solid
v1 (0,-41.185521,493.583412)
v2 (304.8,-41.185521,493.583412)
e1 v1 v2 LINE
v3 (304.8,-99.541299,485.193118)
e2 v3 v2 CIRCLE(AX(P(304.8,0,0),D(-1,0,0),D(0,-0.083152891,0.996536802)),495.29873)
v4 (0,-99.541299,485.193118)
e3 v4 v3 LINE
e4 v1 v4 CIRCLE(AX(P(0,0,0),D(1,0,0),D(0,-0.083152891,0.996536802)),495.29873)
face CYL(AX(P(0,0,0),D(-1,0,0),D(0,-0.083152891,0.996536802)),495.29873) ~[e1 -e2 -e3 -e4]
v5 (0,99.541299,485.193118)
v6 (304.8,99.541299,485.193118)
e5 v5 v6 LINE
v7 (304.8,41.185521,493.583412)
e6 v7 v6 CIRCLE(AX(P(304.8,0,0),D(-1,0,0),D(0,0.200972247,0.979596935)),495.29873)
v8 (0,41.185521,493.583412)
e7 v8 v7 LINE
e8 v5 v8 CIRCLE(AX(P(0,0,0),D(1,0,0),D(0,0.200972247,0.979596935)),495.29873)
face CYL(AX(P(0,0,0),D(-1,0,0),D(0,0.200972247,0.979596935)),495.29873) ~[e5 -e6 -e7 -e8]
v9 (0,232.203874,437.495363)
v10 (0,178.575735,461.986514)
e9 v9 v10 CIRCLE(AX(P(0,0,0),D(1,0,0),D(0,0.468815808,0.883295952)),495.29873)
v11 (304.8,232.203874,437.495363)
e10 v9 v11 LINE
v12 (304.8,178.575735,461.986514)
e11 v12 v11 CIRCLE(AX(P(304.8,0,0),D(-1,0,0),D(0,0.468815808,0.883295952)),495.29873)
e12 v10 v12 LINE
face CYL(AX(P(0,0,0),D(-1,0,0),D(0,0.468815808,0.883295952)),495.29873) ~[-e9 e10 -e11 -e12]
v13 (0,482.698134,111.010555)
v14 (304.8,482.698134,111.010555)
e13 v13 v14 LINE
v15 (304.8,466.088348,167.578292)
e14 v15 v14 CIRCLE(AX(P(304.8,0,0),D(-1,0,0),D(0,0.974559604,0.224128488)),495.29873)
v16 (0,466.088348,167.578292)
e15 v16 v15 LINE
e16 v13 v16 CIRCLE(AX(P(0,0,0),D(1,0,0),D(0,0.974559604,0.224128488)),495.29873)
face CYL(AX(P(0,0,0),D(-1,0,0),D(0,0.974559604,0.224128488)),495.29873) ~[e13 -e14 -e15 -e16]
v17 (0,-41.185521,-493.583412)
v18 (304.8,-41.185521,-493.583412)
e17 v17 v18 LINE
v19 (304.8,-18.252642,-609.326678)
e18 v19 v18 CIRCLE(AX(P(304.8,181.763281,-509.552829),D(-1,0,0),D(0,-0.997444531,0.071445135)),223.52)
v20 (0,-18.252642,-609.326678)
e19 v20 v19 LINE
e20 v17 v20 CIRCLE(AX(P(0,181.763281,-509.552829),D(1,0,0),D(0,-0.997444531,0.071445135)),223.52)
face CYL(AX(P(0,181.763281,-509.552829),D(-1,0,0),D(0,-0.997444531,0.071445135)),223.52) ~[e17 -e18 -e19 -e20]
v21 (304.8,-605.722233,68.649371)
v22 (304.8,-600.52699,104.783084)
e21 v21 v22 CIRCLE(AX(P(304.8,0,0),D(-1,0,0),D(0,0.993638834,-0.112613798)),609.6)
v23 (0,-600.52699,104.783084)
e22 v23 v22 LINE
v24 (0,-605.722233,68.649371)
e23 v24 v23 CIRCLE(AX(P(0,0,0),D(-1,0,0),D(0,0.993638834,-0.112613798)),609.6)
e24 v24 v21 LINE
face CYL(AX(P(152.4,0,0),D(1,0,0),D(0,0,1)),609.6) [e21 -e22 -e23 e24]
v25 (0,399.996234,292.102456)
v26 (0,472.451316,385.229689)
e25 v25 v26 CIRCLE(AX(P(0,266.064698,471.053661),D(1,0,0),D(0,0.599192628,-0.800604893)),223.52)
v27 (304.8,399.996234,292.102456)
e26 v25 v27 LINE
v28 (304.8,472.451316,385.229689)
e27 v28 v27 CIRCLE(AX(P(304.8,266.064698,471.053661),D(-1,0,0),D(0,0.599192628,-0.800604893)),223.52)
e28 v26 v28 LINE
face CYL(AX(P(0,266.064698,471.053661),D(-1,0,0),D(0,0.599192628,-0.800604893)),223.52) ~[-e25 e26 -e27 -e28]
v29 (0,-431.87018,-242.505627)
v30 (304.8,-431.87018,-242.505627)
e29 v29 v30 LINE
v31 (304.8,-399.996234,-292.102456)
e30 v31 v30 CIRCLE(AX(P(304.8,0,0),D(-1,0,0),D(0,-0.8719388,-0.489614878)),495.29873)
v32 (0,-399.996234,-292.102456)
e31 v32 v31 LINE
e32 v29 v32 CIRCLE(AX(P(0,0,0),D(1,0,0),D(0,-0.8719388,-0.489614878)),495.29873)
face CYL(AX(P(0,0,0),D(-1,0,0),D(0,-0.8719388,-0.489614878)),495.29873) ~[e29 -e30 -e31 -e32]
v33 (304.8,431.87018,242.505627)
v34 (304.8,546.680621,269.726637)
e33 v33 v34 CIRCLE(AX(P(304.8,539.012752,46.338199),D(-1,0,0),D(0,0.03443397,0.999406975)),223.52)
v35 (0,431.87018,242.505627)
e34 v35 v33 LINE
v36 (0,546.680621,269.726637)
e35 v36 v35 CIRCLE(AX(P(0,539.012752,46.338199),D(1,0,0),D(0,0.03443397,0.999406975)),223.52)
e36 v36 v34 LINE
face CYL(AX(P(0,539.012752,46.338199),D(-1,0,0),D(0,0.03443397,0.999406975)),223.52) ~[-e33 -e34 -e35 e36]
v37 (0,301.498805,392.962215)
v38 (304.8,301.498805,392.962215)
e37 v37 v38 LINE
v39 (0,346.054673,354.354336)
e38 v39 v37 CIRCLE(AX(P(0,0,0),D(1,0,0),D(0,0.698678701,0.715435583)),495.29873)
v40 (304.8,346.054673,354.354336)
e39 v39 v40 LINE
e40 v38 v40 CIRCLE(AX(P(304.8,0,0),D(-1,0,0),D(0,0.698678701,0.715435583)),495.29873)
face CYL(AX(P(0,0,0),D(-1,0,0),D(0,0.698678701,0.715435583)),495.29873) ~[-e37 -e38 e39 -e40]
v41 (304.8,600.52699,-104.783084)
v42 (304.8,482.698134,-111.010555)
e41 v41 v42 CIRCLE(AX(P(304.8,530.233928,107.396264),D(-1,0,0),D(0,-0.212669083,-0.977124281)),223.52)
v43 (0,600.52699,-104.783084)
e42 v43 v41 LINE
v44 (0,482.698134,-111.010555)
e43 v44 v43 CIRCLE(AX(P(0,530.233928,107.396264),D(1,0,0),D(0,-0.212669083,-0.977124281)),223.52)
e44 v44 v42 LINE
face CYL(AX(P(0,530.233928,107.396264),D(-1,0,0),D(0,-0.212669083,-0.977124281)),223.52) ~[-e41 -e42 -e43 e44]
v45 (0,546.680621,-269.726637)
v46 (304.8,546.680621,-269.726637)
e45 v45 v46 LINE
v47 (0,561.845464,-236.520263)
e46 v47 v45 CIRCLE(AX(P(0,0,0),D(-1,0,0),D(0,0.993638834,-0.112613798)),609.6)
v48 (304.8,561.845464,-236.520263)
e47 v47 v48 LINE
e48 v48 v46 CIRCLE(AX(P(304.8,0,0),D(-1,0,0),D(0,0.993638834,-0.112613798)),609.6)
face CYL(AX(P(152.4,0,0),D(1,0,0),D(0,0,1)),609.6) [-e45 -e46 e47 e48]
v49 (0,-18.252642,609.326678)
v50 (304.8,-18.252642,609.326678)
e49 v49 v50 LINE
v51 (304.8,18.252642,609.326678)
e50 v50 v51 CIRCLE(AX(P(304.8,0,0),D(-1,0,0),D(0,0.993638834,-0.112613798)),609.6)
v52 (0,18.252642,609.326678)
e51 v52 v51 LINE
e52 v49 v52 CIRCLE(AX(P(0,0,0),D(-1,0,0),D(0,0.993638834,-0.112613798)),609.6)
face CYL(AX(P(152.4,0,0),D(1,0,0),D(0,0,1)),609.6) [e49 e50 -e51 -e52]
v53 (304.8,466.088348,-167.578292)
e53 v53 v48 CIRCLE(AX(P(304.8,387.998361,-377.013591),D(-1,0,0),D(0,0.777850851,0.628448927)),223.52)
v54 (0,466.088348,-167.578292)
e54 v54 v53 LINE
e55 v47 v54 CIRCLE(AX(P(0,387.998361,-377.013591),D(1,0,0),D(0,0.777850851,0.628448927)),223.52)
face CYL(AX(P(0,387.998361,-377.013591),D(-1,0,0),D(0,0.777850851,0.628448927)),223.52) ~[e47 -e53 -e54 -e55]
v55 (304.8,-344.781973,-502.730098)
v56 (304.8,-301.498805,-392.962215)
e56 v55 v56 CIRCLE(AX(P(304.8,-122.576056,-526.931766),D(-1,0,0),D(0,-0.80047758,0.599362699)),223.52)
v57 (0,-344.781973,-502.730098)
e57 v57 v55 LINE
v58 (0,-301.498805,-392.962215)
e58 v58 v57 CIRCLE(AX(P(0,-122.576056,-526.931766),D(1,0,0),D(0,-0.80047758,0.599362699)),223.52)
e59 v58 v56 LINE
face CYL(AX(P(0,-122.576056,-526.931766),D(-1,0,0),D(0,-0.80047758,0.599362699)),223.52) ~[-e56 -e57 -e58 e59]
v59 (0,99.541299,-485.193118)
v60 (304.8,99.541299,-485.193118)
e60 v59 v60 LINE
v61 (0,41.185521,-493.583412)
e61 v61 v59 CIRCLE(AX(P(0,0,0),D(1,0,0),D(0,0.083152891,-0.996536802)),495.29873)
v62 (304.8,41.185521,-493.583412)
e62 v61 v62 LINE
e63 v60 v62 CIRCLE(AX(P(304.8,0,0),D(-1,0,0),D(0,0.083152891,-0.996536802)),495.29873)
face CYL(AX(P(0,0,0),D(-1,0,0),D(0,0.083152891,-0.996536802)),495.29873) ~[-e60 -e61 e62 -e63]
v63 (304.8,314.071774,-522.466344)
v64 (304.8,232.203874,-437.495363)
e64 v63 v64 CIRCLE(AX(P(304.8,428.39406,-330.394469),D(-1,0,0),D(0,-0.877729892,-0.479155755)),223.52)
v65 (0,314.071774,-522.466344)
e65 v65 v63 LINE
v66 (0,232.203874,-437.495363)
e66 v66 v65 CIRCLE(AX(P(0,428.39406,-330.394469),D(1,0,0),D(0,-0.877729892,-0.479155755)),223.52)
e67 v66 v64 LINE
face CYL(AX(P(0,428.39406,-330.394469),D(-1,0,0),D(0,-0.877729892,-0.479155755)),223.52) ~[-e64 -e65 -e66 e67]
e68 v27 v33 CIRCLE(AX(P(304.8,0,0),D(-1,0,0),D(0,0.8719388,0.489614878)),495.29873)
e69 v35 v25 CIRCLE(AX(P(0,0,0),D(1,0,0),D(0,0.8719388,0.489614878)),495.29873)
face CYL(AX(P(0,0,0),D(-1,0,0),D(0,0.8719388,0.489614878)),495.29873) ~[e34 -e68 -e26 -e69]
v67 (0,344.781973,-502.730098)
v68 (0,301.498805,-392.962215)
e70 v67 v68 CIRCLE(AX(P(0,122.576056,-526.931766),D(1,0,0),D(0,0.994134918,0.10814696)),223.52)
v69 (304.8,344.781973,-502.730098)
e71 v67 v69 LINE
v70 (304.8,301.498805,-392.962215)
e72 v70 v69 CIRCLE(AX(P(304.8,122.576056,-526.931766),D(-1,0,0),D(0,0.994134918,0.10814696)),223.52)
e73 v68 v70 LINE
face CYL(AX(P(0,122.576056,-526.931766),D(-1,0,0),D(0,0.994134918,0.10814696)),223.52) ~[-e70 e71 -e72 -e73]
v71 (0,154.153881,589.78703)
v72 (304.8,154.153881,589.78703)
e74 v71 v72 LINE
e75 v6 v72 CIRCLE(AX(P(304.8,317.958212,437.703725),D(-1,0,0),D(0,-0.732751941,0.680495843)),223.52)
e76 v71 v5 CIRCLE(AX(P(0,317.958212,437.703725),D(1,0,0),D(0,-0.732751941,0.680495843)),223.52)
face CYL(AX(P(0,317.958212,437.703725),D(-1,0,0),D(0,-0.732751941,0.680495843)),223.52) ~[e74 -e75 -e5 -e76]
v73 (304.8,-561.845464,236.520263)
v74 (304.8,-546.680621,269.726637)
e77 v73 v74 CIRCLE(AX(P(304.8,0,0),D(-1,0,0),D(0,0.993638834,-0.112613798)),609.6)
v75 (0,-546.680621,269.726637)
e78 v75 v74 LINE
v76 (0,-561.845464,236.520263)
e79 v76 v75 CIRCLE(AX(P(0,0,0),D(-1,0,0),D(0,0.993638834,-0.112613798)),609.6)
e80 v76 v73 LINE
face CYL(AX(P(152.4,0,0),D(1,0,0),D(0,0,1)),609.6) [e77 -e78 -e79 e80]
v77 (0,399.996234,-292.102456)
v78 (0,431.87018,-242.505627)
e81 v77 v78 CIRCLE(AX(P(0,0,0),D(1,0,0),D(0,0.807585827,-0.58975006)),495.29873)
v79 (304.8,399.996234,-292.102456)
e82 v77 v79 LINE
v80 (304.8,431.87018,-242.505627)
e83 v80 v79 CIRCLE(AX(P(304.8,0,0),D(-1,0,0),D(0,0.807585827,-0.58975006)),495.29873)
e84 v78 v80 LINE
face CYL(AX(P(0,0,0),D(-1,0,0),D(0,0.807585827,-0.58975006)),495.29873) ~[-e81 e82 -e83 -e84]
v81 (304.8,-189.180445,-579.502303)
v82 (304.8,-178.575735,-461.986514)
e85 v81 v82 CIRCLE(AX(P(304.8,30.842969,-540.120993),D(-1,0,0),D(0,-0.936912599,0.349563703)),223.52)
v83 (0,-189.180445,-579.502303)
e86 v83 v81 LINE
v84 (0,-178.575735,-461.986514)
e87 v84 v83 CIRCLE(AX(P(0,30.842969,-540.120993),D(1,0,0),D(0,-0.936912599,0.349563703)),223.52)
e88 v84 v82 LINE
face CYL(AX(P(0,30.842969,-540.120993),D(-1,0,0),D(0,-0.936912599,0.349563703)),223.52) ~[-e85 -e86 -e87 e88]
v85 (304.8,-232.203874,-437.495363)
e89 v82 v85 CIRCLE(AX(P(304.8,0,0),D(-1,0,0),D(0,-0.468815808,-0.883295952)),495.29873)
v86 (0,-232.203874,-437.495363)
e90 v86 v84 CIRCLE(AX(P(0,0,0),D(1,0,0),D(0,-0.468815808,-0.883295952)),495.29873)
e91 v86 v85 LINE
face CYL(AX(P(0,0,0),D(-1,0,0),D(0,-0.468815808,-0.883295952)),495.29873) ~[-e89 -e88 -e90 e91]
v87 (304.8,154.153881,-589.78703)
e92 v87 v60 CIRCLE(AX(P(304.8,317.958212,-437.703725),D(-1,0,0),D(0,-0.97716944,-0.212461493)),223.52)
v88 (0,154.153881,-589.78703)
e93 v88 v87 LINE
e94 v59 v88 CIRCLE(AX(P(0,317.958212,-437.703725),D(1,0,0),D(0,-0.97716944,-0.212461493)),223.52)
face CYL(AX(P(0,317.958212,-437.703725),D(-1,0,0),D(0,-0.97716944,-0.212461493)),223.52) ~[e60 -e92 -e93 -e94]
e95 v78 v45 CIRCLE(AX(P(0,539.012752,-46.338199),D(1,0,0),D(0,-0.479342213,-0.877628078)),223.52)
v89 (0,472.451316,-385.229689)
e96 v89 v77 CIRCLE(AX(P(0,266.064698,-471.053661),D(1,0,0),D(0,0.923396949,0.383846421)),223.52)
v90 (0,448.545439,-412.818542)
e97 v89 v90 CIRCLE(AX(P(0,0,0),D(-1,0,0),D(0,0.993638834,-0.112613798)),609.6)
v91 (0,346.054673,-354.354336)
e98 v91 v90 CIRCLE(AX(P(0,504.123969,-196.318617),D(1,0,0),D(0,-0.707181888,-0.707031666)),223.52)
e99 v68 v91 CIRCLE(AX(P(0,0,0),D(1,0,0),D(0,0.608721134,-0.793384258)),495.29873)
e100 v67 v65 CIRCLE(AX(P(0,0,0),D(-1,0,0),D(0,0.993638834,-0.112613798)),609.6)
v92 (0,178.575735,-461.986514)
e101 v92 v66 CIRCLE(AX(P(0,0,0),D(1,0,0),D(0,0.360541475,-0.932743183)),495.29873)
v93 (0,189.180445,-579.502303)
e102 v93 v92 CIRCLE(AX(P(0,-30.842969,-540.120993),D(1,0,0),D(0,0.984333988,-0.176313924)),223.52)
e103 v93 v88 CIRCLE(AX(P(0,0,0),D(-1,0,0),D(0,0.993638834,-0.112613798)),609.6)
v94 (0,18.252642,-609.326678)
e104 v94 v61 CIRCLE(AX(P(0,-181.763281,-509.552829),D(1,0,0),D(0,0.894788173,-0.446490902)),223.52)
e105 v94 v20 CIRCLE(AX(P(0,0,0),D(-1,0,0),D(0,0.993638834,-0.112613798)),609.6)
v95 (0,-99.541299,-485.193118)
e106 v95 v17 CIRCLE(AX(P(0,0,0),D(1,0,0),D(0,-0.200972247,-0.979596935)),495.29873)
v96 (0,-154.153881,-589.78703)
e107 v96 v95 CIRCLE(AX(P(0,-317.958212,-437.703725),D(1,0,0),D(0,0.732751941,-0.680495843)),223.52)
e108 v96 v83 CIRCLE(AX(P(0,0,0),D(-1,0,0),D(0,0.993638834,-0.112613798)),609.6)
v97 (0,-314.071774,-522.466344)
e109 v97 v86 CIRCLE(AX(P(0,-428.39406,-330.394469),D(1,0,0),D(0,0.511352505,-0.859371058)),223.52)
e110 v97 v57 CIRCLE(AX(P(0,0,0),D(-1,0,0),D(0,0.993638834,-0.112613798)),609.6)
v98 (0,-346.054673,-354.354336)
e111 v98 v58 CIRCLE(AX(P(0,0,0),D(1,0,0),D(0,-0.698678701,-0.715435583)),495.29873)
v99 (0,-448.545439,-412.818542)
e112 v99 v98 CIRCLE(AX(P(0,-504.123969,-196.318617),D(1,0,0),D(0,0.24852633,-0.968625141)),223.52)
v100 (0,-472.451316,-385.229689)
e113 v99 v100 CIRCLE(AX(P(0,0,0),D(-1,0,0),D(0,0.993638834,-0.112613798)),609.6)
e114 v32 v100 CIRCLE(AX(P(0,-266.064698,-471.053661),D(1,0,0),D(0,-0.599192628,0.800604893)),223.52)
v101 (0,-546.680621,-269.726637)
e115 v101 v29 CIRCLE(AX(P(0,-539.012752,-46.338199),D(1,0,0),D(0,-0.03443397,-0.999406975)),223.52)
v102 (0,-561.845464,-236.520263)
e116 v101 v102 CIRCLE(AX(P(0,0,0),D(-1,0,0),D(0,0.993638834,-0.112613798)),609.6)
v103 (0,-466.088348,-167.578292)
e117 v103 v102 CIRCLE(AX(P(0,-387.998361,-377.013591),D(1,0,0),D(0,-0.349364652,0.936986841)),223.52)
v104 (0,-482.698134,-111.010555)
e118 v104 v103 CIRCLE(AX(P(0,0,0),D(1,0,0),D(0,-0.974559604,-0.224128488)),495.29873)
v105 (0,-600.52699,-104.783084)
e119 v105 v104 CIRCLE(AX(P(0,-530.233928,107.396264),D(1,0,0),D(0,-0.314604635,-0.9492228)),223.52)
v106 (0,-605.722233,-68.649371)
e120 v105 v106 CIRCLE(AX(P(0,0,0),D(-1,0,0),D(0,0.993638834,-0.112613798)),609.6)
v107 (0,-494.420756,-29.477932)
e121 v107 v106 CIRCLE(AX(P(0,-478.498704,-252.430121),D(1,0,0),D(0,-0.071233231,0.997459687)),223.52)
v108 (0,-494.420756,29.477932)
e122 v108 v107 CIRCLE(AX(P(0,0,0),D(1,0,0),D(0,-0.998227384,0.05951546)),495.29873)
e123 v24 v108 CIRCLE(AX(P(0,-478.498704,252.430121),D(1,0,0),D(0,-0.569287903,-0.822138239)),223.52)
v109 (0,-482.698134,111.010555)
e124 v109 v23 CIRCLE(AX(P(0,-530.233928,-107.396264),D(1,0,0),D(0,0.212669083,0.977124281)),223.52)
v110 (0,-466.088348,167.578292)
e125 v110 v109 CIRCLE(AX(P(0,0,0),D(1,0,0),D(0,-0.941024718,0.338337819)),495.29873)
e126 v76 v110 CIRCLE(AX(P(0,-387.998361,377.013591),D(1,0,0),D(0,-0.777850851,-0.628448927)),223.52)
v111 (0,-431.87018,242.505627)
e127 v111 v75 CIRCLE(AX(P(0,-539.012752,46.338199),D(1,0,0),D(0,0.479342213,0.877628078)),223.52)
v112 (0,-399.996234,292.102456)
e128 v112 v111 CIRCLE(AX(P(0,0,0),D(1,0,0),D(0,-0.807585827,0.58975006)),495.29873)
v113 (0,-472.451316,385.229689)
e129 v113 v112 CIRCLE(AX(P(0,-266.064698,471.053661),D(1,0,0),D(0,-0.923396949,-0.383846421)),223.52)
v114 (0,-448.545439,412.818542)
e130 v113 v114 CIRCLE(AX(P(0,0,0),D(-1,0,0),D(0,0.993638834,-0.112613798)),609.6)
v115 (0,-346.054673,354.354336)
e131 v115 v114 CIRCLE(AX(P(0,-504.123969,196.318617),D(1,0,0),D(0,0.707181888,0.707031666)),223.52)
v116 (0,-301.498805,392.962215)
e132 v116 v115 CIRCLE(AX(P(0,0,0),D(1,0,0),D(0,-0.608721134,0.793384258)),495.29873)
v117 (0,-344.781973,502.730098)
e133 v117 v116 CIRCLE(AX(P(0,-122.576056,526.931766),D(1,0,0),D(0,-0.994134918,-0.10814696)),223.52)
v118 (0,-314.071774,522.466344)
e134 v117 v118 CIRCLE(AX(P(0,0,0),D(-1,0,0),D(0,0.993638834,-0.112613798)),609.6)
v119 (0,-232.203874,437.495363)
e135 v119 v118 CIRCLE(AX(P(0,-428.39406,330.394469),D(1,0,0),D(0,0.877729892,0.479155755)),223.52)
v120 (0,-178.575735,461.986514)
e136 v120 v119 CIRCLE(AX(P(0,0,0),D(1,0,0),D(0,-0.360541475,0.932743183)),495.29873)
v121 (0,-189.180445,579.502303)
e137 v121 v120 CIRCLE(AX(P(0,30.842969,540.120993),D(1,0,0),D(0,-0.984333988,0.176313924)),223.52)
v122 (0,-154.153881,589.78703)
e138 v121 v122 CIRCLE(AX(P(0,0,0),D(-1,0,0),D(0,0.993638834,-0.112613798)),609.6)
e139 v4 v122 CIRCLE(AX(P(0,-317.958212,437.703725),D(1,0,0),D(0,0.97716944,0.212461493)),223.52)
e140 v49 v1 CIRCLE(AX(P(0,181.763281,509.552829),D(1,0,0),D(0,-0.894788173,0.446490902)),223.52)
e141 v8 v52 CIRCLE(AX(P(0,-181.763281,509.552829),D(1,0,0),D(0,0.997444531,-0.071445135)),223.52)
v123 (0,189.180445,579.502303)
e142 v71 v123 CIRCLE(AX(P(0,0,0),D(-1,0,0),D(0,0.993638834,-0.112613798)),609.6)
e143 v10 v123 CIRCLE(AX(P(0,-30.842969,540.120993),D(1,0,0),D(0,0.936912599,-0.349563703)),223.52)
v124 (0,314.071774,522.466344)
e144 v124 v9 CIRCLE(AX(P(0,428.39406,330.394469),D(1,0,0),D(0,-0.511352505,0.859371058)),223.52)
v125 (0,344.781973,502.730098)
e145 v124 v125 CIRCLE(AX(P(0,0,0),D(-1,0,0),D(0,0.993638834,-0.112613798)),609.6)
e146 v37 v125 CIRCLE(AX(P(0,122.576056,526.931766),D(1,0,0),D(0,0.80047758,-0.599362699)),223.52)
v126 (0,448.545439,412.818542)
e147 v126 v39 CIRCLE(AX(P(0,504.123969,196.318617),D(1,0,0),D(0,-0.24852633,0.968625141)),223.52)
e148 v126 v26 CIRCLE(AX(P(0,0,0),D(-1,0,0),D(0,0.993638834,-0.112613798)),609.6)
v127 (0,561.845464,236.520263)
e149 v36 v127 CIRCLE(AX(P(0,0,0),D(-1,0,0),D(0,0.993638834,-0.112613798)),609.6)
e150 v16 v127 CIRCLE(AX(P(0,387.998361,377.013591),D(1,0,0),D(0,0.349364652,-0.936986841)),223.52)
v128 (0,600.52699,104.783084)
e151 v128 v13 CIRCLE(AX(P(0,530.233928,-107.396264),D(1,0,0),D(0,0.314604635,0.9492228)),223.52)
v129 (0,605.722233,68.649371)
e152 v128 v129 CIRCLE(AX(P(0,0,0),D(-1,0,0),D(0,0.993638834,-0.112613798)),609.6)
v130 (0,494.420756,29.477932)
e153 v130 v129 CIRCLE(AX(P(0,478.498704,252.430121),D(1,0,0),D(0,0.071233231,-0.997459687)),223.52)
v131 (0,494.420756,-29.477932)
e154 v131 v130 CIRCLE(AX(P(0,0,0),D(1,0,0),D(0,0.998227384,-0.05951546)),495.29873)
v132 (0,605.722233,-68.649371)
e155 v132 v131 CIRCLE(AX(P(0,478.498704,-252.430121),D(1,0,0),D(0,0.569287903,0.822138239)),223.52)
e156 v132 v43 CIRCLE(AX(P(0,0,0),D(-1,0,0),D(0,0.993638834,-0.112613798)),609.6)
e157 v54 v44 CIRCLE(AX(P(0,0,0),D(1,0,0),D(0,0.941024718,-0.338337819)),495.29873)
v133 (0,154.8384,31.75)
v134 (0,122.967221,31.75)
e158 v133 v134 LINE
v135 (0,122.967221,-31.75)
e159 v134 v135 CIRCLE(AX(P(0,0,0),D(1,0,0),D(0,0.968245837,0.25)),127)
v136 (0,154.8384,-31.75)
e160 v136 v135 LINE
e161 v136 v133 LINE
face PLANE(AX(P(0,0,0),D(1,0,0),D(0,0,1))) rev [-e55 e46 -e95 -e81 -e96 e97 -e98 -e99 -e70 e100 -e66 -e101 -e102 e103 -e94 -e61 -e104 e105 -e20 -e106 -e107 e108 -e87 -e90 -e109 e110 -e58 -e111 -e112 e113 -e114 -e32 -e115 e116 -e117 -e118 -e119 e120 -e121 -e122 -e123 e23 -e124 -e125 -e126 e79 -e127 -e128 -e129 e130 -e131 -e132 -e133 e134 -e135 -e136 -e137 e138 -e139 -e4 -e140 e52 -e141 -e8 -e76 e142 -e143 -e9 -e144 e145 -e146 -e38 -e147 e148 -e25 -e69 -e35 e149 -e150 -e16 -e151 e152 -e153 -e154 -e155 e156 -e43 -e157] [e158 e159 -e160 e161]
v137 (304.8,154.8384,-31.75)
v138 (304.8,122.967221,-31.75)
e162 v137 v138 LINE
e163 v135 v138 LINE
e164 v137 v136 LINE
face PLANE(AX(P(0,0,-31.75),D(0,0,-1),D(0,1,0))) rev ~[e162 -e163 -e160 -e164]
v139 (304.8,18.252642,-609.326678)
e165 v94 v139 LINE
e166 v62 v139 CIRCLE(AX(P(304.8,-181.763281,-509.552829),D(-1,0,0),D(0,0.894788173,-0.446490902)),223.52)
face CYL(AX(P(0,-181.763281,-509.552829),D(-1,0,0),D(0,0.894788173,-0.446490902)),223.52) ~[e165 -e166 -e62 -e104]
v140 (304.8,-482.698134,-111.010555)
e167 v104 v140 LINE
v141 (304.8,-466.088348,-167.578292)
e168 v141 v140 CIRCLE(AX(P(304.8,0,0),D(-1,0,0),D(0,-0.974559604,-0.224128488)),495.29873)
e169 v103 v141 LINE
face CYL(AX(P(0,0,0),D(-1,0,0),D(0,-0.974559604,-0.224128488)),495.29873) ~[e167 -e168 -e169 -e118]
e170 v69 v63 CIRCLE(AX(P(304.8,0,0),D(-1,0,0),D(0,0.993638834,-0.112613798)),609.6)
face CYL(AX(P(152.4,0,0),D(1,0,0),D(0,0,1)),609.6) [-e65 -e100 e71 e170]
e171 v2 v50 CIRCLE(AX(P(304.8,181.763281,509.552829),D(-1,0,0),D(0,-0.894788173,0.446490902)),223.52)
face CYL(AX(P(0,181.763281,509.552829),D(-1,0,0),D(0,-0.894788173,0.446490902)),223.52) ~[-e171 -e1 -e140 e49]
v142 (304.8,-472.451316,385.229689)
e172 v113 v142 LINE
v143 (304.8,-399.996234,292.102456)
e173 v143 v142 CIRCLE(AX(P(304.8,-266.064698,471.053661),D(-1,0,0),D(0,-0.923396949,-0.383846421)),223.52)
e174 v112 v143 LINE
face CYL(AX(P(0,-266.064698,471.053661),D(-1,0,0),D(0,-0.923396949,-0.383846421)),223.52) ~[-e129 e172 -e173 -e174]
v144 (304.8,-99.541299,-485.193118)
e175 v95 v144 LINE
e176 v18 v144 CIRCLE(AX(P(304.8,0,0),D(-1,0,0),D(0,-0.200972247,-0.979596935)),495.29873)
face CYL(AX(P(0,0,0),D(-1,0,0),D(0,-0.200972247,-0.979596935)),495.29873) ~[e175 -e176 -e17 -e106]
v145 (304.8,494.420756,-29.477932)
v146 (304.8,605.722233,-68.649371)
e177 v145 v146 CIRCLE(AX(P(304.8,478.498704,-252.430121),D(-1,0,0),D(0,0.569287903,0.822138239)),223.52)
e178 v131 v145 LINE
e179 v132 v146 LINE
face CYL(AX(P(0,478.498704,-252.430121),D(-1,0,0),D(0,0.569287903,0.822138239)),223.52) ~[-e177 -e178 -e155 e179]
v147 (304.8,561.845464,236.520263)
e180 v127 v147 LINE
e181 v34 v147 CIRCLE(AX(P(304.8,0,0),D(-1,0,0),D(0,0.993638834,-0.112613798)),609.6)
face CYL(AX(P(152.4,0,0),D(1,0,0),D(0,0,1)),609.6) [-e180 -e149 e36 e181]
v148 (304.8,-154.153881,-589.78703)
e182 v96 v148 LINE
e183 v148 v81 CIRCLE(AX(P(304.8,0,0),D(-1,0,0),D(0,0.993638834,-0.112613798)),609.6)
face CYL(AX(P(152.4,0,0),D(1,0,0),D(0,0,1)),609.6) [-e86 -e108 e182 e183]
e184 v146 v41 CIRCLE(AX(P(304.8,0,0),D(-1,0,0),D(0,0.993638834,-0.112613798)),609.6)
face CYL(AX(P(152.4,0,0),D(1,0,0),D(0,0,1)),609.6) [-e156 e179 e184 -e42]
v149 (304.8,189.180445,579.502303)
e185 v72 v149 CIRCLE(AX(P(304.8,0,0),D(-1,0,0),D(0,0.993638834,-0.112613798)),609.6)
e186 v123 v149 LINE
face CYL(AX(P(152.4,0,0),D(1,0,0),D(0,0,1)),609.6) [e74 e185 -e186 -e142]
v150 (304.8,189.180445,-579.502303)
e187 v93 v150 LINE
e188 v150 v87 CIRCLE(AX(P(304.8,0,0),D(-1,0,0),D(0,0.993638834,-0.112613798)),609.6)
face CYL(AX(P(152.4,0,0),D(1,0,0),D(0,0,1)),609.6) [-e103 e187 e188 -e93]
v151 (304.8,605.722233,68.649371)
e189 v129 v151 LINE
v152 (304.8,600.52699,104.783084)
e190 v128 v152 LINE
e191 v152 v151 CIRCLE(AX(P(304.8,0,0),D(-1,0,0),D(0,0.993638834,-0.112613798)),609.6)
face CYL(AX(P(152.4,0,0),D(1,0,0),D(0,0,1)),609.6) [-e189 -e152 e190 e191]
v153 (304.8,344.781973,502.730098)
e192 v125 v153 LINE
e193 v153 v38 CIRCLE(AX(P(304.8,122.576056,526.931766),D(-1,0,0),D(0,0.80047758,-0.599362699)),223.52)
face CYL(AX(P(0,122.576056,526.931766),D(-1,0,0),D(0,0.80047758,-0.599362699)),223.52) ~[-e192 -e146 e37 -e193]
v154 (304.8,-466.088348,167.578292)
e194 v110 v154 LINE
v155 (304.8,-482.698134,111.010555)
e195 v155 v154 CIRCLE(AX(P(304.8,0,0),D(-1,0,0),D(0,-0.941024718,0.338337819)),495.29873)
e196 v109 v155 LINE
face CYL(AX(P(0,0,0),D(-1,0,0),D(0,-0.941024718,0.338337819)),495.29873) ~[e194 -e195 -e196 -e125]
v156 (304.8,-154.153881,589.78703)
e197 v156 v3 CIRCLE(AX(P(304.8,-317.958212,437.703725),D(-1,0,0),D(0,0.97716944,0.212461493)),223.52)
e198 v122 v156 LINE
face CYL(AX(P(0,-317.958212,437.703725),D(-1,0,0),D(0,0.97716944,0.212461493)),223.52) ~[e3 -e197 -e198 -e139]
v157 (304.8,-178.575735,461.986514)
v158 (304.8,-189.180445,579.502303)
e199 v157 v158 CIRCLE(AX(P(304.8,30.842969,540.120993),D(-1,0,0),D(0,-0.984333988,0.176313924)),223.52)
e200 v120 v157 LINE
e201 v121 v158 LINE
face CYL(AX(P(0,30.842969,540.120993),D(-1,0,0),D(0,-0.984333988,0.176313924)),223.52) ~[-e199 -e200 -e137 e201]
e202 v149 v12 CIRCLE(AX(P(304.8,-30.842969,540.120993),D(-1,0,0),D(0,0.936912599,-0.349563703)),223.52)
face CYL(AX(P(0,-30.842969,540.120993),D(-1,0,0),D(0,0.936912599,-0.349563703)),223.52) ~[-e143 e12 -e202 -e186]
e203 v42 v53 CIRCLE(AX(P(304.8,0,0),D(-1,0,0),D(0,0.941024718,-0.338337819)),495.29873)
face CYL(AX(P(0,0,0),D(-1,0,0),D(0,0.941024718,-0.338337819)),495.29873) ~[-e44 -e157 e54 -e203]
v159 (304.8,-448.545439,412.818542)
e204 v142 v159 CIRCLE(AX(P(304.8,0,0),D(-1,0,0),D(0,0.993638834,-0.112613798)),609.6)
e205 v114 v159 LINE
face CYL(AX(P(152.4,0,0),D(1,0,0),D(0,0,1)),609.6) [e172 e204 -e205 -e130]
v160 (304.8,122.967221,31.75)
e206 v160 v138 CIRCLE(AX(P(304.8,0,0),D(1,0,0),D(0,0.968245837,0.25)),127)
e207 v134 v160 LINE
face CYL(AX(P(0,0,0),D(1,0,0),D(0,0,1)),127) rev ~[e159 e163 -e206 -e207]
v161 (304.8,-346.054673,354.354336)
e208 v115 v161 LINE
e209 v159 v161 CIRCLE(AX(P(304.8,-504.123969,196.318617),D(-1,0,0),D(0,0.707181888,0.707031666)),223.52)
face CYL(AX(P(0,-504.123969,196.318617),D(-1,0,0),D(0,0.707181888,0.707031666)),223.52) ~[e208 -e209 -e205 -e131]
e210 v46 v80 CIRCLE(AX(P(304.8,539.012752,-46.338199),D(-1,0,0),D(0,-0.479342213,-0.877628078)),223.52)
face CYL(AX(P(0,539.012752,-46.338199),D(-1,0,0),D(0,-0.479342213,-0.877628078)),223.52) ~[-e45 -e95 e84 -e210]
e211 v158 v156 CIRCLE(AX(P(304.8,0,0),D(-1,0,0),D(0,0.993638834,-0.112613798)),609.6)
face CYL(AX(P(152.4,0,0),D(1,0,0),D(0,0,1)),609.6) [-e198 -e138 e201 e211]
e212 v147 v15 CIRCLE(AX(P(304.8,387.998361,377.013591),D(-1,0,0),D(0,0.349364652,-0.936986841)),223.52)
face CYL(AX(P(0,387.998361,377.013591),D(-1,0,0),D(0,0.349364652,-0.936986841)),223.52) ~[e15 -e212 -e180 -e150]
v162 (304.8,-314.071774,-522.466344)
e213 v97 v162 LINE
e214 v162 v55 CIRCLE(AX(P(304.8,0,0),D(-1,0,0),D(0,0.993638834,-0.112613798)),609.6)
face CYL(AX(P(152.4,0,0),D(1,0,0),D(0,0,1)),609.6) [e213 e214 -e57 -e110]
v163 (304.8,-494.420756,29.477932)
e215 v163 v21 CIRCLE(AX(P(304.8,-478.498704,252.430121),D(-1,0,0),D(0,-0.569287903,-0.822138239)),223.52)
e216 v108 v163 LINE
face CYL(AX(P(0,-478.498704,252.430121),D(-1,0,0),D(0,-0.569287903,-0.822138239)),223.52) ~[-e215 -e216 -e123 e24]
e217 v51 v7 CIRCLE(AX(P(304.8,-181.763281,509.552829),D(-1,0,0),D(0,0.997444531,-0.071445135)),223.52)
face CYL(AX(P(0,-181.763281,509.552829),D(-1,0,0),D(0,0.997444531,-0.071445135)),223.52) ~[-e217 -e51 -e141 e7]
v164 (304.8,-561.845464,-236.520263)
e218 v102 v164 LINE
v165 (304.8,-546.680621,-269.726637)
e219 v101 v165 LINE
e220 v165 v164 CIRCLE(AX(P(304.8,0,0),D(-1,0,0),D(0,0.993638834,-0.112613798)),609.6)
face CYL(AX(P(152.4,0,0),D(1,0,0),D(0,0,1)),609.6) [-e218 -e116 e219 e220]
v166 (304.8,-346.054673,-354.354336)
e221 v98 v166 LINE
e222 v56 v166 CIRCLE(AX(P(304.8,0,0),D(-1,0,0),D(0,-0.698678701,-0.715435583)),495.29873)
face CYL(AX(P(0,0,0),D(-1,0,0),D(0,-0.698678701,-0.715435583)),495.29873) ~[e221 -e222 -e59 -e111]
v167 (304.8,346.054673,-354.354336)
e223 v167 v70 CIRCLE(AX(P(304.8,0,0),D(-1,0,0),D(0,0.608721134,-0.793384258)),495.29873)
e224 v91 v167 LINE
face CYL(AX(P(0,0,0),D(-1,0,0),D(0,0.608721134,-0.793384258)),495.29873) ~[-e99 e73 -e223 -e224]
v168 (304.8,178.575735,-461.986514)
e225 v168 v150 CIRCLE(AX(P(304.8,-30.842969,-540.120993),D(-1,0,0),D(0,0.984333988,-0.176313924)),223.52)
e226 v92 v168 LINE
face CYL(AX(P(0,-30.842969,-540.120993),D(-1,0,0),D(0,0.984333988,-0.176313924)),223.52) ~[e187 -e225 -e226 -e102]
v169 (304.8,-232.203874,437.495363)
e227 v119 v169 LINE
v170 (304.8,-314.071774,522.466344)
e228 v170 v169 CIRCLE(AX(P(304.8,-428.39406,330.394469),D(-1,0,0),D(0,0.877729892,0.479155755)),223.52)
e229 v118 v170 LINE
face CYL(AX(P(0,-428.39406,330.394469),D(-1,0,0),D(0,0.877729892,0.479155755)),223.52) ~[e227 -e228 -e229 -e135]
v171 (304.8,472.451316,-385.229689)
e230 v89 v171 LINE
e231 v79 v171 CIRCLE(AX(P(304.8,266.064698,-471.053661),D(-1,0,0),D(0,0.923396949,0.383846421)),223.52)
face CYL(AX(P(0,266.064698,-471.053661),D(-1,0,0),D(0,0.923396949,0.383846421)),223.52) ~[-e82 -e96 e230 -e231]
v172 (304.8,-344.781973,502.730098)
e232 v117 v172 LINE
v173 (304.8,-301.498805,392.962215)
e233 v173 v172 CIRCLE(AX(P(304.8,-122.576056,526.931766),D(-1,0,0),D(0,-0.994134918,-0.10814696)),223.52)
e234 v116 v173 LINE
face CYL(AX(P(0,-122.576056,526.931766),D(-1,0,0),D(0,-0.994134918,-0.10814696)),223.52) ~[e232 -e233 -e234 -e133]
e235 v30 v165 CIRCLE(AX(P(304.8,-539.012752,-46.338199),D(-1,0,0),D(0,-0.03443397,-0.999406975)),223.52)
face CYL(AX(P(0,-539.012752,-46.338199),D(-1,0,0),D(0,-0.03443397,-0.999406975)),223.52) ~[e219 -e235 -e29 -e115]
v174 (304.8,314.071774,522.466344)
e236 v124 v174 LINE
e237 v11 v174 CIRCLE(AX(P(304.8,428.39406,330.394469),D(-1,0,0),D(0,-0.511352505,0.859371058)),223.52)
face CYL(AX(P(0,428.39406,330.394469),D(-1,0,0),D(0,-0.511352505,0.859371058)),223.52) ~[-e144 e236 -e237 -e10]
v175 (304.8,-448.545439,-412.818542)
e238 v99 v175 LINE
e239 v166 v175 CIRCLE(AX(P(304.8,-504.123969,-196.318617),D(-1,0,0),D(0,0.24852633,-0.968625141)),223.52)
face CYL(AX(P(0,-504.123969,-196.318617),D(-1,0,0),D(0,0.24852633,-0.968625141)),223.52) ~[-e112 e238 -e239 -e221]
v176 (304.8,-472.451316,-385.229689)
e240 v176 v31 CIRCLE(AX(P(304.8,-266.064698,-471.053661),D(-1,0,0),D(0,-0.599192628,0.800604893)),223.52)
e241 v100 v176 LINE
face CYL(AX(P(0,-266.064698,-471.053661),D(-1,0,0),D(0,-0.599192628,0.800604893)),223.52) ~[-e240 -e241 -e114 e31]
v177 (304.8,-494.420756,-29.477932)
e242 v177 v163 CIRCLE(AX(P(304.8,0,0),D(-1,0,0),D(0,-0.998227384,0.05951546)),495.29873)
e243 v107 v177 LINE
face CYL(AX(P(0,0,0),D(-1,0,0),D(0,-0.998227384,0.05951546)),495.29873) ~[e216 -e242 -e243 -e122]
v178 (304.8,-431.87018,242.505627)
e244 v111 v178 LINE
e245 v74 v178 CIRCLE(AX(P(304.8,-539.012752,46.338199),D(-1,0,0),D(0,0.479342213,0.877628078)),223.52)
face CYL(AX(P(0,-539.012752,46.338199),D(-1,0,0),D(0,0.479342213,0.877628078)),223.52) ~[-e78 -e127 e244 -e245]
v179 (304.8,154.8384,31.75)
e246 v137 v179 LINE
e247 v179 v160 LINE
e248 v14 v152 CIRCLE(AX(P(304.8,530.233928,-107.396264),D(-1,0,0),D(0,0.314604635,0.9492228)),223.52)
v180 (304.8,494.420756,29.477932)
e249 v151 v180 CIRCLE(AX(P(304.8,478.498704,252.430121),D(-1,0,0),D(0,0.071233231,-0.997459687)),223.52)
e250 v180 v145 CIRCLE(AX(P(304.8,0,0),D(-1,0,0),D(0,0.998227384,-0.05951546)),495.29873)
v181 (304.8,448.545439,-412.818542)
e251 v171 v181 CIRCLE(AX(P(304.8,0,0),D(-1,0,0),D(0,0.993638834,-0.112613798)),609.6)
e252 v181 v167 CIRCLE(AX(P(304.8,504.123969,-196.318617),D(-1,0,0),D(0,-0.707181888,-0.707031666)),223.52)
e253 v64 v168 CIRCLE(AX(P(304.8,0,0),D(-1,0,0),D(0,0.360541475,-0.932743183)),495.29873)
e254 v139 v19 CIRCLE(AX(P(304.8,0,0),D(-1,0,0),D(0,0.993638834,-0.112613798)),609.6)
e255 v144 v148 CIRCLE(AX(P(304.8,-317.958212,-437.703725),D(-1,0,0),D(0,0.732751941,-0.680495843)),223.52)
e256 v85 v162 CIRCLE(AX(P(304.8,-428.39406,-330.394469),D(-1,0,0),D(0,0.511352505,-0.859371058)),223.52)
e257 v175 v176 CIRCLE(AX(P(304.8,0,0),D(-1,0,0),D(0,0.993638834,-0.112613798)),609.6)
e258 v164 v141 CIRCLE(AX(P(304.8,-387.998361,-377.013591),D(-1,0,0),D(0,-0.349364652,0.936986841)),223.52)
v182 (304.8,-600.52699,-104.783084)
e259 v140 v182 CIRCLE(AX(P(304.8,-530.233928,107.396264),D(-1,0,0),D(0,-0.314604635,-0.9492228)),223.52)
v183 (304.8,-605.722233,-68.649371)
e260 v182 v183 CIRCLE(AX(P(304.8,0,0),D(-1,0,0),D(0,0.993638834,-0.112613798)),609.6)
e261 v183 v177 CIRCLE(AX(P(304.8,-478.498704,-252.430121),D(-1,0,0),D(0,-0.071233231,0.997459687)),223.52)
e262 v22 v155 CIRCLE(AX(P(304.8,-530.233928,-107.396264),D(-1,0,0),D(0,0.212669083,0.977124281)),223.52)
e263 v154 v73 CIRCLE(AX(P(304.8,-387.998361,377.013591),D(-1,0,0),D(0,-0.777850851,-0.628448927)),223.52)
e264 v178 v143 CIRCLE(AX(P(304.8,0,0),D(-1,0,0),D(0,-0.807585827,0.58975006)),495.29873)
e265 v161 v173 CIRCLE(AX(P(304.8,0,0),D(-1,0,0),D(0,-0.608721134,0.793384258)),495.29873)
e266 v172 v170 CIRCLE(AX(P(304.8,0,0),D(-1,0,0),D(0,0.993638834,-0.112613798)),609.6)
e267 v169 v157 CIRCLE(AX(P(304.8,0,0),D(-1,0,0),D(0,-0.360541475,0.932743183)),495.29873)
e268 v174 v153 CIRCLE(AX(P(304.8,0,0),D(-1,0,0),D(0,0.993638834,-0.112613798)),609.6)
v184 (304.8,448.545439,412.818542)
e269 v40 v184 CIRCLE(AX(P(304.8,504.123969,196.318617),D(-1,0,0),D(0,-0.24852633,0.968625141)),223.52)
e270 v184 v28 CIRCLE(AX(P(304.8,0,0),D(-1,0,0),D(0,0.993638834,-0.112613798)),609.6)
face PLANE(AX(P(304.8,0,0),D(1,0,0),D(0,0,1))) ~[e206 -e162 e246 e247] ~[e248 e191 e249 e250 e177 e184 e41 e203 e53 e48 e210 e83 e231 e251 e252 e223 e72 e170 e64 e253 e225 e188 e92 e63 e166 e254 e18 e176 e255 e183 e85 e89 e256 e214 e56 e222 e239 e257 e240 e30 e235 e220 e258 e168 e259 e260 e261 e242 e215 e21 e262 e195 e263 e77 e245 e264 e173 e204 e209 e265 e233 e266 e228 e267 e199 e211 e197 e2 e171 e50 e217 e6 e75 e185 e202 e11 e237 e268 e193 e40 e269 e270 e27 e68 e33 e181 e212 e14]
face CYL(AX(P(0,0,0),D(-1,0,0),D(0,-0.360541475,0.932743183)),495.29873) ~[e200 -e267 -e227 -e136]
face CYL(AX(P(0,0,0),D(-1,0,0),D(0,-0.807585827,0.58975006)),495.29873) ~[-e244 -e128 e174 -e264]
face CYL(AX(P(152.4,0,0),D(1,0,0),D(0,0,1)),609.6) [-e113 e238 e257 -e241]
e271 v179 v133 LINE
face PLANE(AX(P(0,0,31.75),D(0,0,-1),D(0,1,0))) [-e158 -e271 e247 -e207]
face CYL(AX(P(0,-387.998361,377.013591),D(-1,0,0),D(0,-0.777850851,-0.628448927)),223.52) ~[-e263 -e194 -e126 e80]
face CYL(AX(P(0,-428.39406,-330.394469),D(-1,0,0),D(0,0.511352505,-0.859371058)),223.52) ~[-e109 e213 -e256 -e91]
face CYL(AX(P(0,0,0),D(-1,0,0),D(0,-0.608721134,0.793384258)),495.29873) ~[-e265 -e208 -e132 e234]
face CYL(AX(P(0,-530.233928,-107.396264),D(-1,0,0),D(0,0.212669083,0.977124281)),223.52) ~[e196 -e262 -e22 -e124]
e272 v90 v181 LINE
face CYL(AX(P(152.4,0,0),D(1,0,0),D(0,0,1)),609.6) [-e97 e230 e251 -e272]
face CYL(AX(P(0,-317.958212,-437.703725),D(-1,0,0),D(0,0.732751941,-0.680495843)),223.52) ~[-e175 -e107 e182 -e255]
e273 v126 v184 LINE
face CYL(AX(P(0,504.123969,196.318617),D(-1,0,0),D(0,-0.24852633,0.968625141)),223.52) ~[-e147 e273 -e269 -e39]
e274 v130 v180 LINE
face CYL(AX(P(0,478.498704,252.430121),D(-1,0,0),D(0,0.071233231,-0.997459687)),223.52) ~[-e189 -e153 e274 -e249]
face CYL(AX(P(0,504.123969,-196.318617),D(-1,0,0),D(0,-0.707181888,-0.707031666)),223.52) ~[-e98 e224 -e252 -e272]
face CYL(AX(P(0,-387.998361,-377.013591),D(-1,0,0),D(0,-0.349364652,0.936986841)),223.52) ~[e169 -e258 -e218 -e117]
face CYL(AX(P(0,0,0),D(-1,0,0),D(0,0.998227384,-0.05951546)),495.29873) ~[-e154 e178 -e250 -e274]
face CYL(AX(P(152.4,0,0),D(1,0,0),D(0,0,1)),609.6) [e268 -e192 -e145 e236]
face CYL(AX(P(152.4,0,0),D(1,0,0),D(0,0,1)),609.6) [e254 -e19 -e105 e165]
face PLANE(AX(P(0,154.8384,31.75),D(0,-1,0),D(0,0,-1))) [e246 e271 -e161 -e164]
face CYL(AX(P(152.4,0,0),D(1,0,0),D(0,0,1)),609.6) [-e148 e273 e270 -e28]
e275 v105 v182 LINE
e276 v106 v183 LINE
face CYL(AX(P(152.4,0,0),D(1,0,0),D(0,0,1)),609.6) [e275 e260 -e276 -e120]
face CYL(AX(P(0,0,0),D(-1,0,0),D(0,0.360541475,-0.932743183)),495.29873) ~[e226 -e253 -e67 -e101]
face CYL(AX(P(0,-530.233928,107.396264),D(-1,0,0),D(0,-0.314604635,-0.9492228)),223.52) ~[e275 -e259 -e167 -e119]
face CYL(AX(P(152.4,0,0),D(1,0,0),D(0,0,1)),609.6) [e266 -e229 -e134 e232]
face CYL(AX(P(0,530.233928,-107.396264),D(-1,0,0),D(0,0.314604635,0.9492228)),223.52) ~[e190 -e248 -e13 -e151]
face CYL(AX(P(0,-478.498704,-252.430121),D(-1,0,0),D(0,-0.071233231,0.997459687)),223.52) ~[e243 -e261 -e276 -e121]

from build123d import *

# Parameters (mm, degrees)
BASPROSKE_W     = 304.8
BASPROSKE_H     = 609.6
TOOTHCUT_DEPTH  = 915.4
TEETHCUTS_COUNT = 22
TEETHCUTS_ANGLE = 343.636363636
BORSKE_R        = 127
BORE_DEPTH      = 304.8000508
KEYSKE_W        = 63.5
KEYSKE_H        = 154.8384
KEYWAY_DEPTH    = 304.8000508


with BuildPart() as part:
    # BasProSke → Base-Revolve (revolve)
    with BuildSketch(Plane(origin=(0, 0, 0), x_dir=(1, 0, 0), z_dir=(0, 1, 0)), mode=Mode.PRIVATE) as base_revolve_sk:
        with Locations((152.4, 304.8)):
            Rectangle(BASPROSKE_W, BASPROSKE_H)
    revolve(base_revolve_sk.sketch.rotate(Axis((-10, 0, 0), (1, 0, 0)), 180), axis=Axis((-10, 0, 0), (1, 0, 0)))

    # TooCutSke → ToothCut (cut, through all)
    with BuildSketch(Plane(origin=(0, 0, 0), x_dir=(0, 0, -1), z_dir=(1, 0, 0))):
        with BuildLine():
            ThreePointArc((29.477931626, 494.420755518), (0, 495.29873), (-29.477931626, 494.420755518))
            ThreePointArc((-29.477931626, 494.420755518), (-41.591539093, 552.716510617), (-68.665781689, 605.74593581))
            ThreePointArc((-68.665781689, 605.74593581), (0, 609.6254), (68.665781689, 605.74593581))
            ThreePointArc((68.665781689, 605.74593581), (41.591539093, 552.716510617), (29.477931626, 494.420755518))
        make_face()
    toothcut = extrude(amount=TOOTHCUT_DEPTH, mode=Mode.SUBTRACT)

    # TeethCuts: ToothCut ×22 about axis
    teethcuts_axis = Axis((-10, 0, 0), (1, 0, 0))
    for i in range(1, TEETHCUTS_COUNT):
        add(toothcut.rotate(teethcuts_axis, i * TEETHCUTS_ANGLE / (TEETHCUTS_COUNT - 1)), mode=Mode.SUBTRACT)

    # BorSke → Bore (cut, symmetric)
    with BuildSketch(Plane(origin=(0, 0, 0), x_dir=(0, 0, -1), z_dir=(1, 0, 0))):
        with Locations(Location((0, 0, 0), (0, 0, 180))):
            Circle(BORSKE_R)
    extrude(amount=BORE_DEPTH, both=True, mode=Mode.SUBTRACT)

    # KeySke → Keyway (cut, symmetric)
    with BuildSketch(Plane(origin=(0, 0, 0), x_dir=(0, 0, -1), z_dir=(1, 0, 0))):
        with Locations((0, 77.4192)):
            Rectangle(KEYSKE_W, KEYSKE_H)
    extrude(amount=KEYWAY_DEPTH, both=True, mode=Mode.SUBTRACT)


solid = part.part
